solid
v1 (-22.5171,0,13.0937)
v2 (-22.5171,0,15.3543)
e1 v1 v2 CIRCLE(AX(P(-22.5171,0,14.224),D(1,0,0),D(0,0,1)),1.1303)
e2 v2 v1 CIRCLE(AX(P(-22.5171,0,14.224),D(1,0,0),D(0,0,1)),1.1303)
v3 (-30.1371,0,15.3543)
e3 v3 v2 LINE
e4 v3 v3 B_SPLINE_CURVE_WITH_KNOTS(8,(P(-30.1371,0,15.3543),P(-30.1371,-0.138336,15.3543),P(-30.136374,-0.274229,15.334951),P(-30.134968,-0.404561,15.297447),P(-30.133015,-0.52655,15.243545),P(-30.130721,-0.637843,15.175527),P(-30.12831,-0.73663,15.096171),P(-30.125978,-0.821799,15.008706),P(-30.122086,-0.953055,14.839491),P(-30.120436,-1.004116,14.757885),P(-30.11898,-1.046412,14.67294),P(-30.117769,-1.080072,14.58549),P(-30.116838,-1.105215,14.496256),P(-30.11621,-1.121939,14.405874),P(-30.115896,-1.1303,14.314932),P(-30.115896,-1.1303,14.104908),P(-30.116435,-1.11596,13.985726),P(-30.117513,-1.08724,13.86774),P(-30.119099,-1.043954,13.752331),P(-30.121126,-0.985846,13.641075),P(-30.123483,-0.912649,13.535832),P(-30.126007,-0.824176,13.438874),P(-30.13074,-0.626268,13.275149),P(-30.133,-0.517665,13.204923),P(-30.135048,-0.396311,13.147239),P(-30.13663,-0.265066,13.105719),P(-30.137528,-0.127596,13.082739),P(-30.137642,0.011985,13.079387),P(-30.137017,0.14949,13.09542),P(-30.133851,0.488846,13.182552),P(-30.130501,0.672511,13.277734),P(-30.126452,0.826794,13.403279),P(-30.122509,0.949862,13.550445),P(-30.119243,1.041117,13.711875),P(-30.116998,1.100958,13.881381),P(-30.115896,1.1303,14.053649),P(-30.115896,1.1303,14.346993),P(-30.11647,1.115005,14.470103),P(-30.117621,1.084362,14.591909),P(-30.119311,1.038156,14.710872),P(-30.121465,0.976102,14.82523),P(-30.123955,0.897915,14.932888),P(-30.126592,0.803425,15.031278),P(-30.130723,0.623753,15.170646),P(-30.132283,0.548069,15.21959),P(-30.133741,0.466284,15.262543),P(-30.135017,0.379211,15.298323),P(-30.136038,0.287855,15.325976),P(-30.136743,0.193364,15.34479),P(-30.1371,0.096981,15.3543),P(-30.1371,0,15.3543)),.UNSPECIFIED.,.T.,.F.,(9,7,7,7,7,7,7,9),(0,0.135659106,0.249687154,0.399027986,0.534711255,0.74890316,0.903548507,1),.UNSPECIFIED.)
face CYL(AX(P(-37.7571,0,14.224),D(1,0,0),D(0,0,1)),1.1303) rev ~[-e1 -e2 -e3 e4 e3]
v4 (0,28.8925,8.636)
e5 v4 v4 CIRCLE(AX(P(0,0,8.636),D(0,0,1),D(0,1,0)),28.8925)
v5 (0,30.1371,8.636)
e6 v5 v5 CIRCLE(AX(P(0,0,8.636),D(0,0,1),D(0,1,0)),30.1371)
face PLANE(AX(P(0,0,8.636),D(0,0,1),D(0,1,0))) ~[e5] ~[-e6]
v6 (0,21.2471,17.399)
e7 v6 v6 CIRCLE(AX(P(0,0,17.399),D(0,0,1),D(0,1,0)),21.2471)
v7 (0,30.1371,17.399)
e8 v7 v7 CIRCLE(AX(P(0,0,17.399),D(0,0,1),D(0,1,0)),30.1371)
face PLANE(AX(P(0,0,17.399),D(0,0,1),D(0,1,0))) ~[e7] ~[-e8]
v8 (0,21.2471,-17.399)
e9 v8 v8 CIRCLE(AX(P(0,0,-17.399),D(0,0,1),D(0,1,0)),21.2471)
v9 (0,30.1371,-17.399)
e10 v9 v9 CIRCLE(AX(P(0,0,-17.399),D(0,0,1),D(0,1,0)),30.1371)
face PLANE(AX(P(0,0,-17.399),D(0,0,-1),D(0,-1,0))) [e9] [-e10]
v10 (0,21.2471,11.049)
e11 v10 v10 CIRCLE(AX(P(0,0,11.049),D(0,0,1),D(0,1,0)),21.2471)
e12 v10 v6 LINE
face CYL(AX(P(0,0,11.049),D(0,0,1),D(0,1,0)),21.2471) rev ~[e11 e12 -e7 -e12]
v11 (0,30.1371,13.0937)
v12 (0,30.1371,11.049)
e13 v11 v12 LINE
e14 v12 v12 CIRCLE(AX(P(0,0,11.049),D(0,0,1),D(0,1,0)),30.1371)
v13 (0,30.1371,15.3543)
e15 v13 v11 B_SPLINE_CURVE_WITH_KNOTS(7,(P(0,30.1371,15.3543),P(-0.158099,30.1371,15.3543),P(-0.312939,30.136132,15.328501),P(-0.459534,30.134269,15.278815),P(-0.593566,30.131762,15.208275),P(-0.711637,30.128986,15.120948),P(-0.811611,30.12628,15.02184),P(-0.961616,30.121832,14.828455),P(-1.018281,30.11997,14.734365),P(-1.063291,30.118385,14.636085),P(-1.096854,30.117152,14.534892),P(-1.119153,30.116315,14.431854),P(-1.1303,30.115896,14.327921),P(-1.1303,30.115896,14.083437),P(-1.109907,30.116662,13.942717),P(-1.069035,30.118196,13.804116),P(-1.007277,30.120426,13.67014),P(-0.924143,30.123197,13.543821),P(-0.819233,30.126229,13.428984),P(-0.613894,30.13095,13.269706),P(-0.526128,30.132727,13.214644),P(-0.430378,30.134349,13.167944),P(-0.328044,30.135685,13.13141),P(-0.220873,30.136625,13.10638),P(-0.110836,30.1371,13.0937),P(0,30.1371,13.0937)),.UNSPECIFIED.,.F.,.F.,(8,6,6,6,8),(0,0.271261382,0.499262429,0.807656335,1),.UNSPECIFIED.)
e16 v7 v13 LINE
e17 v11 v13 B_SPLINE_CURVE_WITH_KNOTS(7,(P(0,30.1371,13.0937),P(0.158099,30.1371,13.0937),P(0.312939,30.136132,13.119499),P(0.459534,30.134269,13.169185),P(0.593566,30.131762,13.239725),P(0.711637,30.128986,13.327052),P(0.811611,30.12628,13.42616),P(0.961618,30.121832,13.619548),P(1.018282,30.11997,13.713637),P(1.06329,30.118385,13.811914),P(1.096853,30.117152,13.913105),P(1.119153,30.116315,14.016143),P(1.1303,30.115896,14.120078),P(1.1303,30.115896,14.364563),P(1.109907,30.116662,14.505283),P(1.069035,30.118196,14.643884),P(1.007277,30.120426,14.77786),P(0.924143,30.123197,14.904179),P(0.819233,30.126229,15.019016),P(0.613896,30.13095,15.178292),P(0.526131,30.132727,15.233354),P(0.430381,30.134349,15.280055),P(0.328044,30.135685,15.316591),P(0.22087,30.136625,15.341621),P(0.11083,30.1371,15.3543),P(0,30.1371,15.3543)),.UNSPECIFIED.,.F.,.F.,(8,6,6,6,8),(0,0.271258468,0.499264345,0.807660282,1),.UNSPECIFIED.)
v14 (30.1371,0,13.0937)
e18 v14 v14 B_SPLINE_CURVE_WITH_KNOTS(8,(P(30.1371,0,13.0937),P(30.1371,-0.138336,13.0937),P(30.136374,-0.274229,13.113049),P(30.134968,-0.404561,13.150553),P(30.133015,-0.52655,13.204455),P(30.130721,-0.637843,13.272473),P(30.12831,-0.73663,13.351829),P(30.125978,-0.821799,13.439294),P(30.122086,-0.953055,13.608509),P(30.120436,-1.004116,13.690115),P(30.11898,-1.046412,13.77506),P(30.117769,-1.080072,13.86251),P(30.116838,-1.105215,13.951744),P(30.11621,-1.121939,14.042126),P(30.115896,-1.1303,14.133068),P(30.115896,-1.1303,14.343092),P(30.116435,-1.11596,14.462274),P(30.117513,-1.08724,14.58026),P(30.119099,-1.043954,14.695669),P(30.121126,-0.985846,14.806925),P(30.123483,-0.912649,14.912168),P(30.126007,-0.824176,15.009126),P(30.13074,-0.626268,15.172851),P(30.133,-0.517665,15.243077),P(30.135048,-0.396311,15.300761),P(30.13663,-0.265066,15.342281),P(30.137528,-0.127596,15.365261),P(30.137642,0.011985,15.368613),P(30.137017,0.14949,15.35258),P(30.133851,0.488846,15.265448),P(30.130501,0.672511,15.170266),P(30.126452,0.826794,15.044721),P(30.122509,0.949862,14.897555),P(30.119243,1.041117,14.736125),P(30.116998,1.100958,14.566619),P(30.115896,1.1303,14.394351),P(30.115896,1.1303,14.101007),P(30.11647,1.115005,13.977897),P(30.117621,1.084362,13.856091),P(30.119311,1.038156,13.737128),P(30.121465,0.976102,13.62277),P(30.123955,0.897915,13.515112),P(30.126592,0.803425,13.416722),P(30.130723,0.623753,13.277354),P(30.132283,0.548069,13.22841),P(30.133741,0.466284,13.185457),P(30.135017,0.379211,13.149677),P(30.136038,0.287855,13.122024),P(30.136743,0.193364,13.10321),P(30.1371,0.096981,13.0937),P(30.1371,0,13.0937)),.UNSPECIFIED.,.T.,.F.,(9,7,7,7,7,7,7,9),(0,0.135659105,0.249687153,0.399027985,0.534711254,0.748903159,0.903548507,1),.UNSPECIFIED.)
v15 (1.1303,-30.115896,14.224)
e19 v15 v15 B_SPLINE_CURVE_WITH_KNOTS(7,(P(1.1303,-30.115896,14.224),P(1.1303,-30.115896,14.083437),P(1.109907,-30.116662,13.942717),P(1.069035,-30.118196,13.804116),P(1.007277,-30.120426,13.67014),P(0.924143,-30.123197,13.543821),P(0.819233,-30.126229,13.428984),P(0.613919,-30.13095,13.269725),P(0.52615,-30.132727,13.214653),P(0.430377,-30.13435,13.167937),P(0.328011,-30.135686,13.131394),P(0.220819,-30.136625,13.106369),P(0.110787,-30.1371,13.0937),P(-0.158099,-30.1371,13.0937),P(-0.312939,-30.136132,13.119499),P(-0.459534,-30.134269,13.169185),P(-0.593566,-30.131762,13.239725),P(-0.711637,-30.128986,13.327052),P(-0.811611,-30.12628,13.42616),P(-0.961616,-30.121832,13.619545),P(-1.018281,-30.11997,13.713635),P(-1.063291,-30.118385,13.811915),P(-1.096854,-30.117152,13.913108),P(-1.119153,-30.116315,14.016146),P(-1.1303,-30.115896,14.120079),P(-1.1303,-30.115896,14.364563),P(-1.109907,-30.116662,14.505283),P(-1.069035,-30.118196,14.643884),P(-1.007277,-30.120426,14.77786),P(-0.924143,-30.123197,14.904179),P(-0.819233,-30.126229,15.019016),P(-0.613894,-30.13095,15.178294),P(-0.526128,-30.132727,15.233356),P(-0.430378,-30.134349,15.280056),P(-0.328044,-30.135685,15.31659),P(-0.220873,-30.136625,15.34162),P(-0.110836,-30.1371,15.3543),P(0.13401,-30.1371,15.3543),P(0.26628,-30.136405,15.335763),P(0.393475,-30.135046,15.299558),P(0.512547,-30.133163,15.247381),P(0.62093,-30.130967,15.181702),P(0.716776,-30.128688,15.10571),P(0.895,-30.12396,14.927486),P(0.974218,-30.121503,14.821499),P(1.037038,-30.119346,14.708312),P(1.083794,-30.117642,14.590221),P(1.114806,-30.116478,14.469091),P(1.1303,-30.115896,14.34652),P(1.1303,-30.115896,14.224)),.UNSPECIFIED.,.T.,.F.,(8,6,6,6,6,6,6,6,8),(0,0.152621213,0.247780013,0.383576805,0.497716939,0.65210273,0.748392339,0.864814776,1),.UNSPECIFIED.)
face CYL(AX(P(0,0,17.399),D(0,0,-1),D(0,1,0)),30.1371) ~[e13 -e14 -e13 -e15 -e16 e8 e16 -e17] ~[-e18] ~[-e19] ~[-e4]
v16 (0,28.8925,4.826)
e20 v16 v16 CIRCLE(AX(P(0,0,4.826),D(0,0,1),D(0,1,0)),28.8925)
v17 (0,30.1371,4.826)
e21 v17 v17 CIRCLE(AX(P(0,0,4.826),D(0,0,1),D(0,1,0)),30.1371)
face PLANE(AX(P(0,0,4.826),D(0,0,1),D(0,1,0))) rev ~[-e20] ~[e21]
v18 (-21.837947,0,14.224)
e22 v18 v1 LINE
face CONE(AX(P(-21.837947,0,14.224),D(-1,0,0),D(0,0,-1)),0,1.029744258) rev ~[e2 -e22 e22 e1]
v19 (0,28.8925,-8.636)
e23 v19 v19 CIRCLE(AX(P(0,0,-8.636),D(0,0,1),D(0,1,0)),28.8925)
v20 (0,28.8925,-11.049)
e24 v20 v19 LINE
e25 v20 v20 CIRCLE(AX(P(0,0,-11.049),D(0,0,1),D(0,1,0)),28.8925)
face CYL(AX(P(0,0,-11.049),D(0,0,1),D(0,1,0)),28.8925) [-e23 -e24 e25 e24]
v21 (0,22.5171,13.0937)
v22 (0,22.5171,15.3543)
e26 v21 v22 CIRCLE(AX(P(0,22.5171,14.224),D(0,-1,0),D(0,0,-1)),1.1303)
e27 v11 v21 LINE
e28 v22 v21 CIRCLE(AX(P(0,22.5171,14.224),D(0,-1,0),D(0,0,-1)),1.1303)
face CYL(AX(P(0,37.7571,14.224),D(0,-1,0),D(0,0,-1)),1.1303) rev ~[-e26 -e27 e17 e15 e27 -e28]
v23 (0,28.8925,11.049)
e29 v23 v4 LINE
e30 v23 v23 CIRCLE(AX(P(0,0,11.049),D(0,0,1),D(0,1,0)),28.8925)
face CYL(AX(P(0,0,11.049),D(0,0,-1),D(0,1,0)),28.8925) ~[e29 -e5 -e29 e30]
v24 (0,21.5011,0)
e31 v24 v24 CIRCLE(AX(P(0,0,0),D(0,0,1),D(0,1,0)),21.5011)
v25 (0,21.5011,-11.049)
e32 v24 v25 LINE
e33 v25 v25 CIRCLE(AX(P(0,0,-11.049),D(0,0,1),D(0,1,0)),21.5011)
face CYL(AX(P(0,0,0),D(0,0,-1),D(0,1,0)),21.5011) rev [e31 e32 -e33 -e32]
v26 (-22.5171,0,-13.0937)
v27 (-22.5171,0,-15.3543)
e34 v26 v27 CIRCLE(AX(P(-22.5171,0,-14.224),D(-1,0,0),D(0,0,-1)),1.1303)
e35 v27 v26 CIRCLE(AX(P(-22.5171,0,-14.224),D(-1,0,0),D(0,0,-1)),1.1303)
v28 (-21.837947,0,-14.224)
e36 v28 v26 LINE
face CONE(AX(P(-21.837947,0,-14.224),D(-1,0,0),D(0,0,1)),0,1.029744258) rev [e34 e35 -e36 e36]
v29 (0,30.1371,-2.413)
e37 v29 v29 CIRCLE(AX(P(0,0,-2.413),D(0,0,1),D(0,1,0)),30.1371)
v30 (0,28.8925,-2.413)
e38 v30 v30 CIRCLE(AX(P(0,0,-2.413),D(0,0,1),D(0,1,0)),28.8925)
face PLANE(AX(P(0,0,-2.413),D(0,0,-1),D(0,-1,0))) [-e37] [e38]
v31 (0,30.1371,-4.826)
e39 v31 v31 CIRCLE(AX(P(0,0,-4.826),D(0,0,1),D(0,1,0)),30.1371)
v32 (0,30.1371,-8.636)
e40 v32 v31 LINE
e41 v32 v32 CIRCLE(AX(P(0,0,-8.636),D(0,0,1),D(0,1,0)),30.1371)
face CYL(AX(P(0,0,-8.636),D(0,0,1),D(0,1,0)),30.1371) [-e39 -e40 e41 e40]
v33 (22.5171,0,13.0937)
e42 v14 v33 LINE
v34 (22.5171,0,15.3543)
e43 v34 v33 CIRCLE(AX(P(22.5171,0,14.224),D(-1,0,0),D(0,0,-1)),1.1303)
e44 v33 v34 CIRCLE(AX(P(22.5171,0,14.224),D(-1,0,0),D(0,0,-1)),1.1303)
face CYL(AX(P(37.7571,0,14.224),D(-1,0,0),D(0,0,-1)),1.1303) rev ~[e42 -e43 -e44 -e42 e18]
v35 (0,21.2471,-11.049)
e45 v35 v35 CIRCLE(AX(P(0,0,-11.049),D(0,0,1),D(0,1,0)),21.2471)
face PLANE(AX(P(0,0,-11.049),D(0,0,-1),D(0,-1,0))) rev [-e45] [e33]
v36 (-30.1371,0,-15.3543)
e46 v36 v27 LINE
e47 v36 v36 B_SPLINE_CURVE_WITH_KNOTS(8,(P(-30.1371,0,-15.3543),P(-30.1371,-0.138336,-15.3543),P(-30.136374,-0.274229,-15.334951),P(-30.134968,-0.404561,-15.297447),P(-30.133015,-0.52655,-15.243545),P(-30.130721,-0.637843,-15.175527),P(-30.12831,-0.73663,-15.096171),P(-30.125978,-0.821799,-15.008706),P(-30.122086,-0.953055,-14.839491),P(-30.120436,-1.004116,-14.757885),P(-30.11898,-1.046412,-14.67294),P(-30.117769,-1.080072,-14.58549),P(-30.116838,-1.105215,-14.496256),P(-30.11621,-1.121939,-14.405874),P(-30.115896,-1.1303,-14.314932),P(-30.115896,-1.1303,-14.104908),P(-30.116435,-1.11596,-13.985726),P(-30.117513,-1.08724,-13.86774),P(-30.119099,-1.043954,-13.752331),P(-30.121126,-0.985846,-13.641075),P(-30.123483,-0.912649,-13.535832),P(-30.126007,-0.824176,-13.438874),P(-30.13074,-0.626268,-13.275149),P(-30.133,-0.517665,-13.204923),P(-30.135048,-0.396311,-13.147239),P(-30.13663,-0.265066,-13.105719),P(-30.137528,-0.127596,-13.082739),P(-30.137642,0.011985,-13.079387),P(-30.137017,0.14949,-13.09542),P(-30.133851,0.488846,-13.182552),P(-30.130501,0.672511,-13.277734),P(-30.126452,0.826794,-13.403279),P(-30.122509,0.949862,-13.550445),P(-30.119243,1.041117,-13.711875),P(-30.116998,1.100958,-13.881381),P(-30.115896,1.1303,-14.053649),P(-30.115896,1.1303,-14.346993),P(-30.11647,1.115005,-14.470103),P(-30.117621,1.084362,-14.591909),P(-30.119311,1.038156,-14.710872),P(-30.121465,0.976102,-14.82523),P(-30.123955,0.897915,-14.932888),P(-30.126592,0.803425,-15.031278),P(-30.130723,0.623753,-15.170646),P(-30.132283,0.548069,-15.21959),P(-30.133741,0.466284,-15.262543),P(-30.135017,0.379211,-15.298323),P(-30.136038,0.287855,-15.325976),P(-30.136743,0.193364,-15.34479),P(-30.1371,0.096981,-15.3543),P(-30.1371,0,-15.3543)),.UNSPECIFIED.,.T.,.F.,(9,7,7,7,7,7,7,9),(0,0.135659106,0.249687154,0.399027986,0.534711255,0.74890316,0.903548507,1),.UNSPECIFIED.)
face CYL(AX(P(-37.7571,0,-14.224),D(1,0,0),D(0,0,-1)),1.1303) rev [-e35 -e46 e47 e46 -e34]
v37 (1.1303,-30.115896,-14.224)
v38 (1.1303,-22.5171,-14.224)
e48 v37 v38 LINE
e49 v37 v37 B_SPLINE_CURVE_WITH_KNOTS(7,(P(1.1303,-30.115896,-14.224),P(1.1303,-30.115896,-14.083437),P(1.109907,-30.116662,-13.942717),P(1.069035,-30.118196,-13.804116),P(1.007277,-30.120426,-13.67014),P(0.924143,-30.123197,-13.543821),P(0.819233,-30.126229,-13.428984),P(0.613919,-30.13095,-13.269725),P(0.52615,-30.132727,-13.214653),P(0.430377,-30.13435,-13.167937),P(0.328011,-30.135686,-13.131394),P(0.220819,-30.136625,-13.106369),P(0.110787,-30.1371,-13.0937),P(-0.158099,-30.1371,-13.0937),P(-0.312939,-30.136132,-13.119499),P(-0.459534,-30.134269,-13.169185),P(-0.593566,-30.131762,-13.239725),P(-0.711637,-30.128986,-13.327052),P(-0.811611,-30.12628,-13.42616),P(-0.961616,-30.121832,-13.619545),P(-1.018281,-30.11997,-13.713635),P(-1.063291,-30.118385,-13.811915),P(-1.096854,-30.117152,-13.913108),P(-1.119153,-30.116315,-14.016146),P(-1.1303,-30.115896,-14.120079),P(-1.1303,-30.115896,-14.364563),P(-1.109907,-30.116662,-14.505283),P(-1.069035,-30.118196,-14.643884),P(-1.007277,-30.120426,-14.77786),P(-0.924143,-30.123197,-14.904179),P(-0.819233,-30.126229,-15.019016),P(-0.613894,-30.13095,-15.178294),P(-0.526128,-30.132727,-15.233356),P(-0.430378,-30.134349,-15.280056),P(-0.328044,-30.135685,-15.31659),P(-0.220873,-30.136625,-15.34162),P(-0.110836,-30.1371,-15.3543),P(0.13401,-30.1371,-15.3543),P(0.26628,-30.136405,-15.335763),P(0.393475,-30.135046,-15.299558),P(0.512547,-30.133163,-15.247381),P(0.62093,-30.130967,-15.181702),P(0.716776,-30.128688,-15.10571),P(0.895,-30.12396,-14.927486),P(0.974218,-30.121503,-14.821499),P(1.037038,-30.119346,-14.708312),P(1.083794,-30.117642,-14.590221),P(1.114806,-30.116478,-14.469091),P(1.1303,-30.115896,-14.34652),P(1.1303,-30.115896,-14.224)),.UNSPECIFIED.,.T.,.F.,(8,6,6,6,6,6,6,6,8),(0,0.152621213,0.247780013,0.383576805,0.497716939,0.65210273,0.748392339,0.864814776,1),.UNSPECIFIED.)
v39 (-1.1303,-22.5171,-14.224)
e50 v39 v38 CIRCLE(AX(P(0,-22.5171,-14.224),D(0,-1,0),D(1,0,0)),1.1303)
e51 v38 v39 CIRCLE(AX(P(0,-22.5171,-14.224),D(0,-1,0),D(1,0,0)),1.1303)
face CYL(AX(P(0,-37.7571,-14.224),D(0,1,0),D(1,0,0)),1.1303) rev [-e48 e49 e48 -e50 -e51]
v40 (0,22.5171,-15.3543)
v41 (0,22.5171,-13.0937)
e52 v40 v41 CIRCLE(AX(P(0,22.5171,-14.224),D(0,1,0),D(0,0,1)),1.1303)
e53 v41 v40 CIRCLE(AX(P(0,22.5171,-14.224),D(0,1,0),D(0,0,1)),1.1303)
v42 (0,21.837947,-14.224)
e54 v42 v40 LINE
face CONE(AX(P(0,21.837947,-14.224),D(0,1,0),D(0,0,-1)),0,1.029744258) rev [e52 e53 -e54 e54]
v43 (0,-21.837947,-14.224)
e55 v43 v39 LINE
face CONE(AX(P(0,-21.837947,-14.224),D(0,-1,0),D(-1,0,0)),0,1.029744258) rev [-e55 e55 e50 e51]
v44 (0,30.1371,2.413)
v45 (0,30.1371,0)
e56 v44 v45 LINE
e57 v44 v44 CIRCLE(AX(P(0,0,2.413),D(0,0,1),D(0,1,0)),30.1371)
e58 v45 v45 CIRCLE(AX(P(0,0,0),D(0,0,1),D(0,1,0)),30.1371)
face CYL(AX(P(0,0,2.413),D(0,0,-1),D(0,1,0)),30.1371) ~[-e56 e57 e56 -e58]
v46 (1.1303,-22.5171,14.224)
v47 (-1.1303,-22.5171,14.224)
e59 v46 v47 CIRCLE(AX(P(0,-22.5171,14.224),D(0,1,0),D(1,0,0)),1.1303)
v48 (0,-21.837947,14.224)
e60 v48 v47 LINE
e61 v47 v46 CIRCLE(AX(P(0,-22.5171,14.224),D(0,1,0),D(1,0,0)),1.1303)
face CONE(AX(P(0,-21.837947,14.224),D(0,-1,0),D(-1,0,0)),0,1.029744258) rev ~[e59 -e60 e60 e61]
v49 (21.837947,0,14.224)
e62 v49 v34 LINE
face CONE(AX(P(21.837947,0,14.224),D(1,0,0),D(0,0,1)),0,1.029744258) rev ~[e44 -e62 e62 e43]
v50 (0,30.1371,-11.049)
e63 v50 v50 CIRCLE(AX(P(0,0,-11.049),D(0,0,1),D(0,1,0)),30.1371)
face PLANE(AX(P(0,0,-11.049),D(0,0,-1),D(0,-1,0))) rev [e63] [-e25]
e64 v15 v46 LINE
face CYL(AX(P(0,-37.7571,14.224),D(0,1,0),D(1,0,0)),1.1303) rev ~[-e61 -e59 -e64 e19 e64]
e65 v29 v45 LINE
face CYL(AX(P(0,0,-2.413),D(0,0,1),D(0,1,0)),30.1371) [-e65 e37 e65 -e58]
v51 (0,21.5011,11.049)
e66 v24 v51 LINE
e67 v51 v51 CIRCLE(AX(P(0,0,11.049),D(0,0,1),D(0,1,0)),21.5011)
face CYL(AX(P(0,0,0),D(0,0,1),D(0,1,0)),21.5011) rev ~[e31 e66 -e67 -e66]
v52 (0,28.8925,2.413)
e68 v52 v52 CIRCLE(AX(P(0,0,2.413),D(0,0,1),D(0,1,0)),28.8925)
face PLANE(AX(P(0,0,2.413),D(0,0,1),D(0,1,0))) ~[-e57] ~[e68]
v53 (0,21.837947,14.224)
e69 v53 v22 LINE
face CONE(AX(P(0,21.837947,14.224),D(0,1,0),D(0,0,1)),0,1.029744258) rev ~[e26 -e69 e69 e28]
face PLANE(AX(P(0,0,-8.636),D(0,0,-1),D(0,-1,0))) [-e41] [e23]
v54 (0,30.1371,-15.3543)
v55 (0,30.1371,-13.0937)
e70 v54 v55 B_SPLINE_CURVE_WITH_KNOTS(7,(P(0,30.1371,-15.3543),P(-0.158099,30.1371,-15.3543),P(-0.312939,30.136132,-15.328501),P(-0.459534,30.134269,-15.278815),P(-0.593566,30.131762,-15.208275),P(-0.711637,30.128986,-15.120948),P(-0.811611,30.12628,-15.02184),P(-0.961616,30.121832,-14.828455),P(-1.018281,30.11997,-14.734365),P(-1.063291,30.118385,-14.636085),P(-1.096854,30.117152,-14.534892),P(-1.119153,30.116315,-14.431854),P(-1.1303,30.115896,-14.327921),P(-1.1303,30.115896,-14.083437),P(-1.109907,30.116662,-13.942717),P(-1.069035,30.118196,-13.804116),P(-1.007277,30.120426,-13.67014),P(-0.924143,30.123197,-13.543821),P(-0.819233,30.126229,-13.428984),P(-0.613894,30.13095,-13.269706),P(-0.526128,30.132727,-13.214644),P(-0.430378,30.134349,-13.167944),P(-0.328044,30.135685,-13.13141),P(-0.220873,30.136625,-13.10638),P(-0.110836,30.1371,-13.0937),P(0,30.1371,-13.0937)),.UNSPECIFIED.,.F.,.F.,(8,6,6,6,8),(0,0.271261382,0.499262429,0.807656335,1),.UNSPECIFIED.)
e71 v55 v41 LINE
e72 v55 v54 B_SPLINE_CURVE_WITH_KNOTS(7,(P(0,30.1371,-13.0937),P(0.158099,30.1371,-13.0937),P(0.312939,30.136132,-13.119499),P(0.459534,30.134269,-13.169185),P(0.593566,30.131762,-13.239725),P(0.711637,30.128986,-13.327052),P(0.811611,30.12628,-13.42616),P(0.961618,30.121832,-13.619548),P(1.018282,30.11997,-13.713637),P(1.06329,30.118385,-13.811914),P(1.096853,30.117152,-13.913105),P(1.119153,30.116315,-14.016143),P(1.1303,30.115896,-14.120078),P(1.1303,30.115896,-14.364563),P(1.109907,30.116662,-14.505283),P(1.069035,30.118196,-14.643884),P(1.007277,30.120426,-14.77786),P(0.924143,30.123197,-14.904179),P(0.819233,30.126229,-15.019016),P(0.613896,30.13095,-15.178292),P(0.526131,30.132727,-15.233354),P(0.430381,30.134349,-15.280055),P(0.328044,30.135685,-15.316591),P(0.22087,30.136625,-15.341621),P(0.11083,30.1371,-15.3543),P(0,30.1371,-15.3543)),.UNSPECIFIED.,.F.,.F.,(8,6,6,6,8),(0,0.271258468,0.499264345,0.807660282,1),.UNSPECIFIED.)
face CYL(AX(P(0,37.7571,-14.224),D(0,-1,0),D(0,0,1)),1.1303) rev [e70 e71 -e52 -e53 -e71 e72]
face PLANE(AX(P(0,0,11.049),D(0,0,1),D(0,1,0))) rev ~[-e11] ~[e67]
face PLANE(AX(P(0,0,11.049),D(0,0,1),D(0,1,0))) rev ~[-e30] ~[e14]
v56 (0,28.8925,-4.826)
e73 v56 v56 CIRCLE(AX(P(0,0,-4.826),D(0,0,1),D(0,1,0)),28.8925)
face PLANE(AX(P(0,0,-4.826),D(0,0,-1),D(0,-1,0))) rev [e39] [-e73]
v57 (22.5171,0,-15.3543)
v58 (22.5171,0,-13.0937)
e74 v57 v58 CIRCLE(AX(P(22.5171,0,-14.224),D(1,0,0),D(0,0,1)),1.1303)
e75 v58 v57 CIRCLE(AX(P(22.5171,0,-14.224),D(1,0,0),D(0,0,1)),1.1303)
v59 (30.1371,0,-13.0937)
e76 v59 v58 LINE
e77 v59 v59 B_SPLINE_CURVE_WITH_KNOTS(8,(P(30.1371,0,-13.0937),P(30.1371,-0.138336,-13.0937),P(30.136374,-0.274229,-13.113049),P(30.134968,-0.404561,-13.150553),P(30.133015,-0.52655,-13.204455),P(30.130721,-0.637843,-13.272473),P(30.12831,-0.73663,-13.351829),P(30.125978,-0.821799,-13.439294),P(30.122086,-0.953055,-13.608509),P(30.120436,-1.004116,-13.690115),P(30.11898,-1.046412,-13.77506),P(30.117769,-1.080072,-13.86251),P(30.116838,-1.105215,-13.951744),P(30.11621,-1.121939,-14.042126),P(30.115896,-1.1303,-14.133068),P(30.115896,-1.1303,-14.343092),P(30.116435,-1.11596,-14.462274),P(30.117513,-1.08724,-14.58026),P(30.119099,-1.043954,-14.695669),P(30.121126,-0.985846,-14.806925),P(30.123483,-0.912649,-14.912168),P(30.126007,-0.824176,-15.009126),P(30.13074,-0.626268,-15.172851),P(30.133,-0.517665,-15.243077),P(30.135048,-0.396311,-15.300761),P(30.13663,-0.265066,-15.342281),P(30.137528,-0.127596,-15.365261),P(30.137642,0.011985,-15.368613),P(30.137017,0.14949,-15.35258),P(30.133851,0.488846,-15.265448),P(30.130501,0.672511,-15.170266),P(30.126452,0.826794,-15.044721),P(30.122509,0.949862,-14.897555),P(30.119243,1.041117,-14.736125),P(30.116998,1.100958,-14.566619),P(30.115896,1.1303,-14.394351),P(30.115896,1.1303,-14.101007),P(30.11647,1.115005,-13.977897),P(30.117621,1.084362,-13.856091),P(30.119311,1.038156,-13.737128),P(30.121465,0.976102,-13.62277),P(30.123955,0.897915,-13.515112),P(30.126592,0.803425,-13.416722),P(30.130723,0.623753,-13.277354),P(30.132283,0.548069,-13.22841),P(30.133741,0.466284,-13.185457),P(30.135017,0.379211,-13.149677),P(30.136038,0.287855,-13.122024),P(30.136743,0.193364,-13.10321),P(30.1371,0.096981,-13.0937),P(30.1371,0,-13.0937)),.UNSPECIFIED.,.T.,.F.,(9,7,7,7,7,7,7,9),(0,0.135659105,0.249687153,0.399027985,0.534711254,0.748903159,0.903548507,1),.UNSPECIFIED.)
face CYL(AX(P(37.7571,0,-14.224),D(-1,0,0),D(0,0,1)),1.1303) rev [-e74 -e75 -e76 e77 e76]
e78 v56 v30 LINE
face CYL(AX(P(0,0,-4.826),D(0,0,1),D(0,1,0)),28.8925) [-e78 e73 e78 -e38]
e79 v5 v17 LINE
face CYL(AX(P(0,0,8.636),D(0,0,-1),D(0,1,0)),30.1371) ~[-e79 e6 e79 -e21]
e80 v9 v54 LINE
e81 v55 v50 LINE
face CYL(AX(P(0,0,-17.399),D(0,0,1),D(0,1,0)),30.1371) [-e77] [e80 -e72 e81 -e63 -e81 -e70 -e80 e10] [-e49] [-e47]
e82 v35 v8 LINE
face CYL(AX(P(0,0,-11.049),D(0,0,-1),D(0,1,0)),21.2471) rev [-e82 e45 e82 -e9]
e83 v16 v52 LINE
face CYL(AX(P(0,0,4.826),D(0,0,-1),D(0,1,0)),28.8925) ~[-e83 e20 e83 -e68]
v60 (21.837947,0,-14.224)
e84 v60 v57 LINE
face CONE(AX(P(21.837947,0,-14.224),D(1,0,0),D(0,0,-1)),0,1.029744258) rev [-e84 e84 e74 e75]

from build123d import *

# Parameters (mm, degrees)
F_4_40_TAPPED_HOLE1_D               = 2.2606
F_4_40_TAPPED_HOLE1_DEPTH           = 7.62
F_4_40_TAPPED_HOLE1_TIP             = 0.679152758
F_4_40_TAPPED_HOLE1_ON_FACE_2_D     = 2.2606
F_4_40_TAPPED_HOLE1_ON_FACE_2_DEPTH = 7.62
F_4_40_TAPPED_HOLE1_ON_FACE_2_TIP   = 0.679152758
F_4_40_TAPPED_HOLE1_ON_FACE_3_D     = 2.2606
F_4_40_TAPPED_HOLE1_ON_FACE_3_DEPTH = 7.62
F_4_40_TAPPED_HOLE1_ON_FACE_3_TIP   = 0.679152758
F_4_40_TAPPED_HOLE1_ON_FACE_4_D     = 2.2606
F_4_40_TAPPED_HOLE1_ON_FACE_4_DEPTH = 7.62
F_4_40_TAPPED_HOLE1_ON_FACE_4_TIP   = 0.679152758


with BuildPart() as part:
    # Sketch2 → Revolve1 (revolve)
    with BuildSketch(Plane(origin=(0, 0, 0), x_dir=(0, 0, -1), z_dir=(1, 0, 0))):
        Polygon((-17.399, 30.1371), (-11.049, 30.1371), (-11.049, 28.8925), (-8.636, 28.8925), (-8.636, 30.1371), (-4.826, 30.1371), (-4.826, 28.8925), (-2.413, 28.8925), (-2.413, 30.1371), (0, 30.1371), (0, 21.5011), (-11.049, 21.5011), (-11.049, 21.2471), (-17.399, 21.2471), align=None)
    revolve(axis=Axis((0, 0, 0), (0, 0, 1)))

    # #4-40 Tapped Hole1
    with Locations(Plane(origin=(0, -30.1371, 14.224), x_dir=(-1, 0, 0), z_dir=(0, -1, 0))):
        with Locations((0, 0)):
            Hole(F_4_40_TAPPED_HOLE1_D / 2, depth=F_4_40_TAPPED_HOLE1_DEPTH)
            with Locations((0, 0, -(F_4_40_TAPPED_HOLE1_DEPTH + F_4_40_TAPPED_HOLE1_TIP / 2))):  # 118° drill point
                Cone(0, F_4_40_TAPPED_HOLE1_D / 2, F_4_40_TAPPED_HOLE1_TIP, mode=Mode.SUBTRACT)

    # #4-40 Tapped Hole1 on face 2
    with Locations(Plane(origin=(30.1371, 0, 14.224), x_dir=(0, 0, 1), z_dir=(1, 0, 0))):
        with Locations((0, 0)):
            Hole(F_4_40_TAPPED_HOLE1_ON_FACE_2_D / 2, depth=F_4_40_TAPPED_HOLE1_ON_FACE_2_DEPTH)
            with Locations((0, 0, -(F_4_40_TAPPED_HOLE1_ON_FACE_2_DEPTH + F_4_40_TAPPED_HOLE1_ON_FACE_2_TIP / 2))):  # 118° drill point
                Cone(0, F_4_40_TAPPED_HOLE1_ON_FACE_2_D / 2, F_4_40_TAPPED_HOLE1_ON_FACE_2_TIP, mode=Mode.SUBTRACT)

    # #4-40 Tapped Hole1 on face 3
    with Locations(Plane(origin=(-30.1371, 0, 14.224), x_dir=(0, 0, -1), z_dir=(-1, 0, 0))):
        with Locations((0, 0)):
            Hole(F_4_40_TAPPED_HOLE1_ON_FACE_3_D / 2, depth=F_4_40_TAPPED_HOLE1_ON_FACE_3_DEPTH)
            with Locations((0, 0, -(F_4_40_TAPPED_HOLE1_ON_FACE_3_DEPTH + F_4_40_TAPPED_HOLE1_ON_FACE_3_TIP / 2))):  # 118° drill point
                Cone(0, F_4_40_TAPPED_HOLE1_ON_FACE_3_D / 2, F_4_40_TAPPED_HOLE1_ON_FACE_3_TIP, mode=Mode.SUBTRACT)

    # #4-40 Tapped Hole1 on face 4
    with Locations(Plane(origin=(0, 30.1371, 14.224), x_dir=(0, 0, 1), z_dir=(0, 1, 0))):
        with Locations((0, 0)):
            Hole(F_4_40_TAPPED_HOLE1_ON_FACE_4_D / 2, depth=F_4_40_TAPPED_HOLE1_ON_FACE_4_DEPTH)
            with Locations((0, 0, -(F_4_40_TAPPED_HOLE1_ON_FACE_4_DEPTH + F_4_40_TAPPED_HOLE1_ON_FACE_4_TIP / 2))):  # 118° drill point
                Cone(0, F_4_40_TAPPED_HOLE1_ON_FACE_4_D / 2, F_4_40_TAPPED_HOLE1_ON_FACE_4_TIP, mode=Mode.SUBTRACT)

    # Mirror1: part across plane


with BuildPart() as part_1:
    add(part.part)
    add(part.part.mirror(Plane(origin=(0, 30.1371, 0), x_dir=(1, 0, 0), z_dir=(0, 0, -1))))


solid = part_1.part
